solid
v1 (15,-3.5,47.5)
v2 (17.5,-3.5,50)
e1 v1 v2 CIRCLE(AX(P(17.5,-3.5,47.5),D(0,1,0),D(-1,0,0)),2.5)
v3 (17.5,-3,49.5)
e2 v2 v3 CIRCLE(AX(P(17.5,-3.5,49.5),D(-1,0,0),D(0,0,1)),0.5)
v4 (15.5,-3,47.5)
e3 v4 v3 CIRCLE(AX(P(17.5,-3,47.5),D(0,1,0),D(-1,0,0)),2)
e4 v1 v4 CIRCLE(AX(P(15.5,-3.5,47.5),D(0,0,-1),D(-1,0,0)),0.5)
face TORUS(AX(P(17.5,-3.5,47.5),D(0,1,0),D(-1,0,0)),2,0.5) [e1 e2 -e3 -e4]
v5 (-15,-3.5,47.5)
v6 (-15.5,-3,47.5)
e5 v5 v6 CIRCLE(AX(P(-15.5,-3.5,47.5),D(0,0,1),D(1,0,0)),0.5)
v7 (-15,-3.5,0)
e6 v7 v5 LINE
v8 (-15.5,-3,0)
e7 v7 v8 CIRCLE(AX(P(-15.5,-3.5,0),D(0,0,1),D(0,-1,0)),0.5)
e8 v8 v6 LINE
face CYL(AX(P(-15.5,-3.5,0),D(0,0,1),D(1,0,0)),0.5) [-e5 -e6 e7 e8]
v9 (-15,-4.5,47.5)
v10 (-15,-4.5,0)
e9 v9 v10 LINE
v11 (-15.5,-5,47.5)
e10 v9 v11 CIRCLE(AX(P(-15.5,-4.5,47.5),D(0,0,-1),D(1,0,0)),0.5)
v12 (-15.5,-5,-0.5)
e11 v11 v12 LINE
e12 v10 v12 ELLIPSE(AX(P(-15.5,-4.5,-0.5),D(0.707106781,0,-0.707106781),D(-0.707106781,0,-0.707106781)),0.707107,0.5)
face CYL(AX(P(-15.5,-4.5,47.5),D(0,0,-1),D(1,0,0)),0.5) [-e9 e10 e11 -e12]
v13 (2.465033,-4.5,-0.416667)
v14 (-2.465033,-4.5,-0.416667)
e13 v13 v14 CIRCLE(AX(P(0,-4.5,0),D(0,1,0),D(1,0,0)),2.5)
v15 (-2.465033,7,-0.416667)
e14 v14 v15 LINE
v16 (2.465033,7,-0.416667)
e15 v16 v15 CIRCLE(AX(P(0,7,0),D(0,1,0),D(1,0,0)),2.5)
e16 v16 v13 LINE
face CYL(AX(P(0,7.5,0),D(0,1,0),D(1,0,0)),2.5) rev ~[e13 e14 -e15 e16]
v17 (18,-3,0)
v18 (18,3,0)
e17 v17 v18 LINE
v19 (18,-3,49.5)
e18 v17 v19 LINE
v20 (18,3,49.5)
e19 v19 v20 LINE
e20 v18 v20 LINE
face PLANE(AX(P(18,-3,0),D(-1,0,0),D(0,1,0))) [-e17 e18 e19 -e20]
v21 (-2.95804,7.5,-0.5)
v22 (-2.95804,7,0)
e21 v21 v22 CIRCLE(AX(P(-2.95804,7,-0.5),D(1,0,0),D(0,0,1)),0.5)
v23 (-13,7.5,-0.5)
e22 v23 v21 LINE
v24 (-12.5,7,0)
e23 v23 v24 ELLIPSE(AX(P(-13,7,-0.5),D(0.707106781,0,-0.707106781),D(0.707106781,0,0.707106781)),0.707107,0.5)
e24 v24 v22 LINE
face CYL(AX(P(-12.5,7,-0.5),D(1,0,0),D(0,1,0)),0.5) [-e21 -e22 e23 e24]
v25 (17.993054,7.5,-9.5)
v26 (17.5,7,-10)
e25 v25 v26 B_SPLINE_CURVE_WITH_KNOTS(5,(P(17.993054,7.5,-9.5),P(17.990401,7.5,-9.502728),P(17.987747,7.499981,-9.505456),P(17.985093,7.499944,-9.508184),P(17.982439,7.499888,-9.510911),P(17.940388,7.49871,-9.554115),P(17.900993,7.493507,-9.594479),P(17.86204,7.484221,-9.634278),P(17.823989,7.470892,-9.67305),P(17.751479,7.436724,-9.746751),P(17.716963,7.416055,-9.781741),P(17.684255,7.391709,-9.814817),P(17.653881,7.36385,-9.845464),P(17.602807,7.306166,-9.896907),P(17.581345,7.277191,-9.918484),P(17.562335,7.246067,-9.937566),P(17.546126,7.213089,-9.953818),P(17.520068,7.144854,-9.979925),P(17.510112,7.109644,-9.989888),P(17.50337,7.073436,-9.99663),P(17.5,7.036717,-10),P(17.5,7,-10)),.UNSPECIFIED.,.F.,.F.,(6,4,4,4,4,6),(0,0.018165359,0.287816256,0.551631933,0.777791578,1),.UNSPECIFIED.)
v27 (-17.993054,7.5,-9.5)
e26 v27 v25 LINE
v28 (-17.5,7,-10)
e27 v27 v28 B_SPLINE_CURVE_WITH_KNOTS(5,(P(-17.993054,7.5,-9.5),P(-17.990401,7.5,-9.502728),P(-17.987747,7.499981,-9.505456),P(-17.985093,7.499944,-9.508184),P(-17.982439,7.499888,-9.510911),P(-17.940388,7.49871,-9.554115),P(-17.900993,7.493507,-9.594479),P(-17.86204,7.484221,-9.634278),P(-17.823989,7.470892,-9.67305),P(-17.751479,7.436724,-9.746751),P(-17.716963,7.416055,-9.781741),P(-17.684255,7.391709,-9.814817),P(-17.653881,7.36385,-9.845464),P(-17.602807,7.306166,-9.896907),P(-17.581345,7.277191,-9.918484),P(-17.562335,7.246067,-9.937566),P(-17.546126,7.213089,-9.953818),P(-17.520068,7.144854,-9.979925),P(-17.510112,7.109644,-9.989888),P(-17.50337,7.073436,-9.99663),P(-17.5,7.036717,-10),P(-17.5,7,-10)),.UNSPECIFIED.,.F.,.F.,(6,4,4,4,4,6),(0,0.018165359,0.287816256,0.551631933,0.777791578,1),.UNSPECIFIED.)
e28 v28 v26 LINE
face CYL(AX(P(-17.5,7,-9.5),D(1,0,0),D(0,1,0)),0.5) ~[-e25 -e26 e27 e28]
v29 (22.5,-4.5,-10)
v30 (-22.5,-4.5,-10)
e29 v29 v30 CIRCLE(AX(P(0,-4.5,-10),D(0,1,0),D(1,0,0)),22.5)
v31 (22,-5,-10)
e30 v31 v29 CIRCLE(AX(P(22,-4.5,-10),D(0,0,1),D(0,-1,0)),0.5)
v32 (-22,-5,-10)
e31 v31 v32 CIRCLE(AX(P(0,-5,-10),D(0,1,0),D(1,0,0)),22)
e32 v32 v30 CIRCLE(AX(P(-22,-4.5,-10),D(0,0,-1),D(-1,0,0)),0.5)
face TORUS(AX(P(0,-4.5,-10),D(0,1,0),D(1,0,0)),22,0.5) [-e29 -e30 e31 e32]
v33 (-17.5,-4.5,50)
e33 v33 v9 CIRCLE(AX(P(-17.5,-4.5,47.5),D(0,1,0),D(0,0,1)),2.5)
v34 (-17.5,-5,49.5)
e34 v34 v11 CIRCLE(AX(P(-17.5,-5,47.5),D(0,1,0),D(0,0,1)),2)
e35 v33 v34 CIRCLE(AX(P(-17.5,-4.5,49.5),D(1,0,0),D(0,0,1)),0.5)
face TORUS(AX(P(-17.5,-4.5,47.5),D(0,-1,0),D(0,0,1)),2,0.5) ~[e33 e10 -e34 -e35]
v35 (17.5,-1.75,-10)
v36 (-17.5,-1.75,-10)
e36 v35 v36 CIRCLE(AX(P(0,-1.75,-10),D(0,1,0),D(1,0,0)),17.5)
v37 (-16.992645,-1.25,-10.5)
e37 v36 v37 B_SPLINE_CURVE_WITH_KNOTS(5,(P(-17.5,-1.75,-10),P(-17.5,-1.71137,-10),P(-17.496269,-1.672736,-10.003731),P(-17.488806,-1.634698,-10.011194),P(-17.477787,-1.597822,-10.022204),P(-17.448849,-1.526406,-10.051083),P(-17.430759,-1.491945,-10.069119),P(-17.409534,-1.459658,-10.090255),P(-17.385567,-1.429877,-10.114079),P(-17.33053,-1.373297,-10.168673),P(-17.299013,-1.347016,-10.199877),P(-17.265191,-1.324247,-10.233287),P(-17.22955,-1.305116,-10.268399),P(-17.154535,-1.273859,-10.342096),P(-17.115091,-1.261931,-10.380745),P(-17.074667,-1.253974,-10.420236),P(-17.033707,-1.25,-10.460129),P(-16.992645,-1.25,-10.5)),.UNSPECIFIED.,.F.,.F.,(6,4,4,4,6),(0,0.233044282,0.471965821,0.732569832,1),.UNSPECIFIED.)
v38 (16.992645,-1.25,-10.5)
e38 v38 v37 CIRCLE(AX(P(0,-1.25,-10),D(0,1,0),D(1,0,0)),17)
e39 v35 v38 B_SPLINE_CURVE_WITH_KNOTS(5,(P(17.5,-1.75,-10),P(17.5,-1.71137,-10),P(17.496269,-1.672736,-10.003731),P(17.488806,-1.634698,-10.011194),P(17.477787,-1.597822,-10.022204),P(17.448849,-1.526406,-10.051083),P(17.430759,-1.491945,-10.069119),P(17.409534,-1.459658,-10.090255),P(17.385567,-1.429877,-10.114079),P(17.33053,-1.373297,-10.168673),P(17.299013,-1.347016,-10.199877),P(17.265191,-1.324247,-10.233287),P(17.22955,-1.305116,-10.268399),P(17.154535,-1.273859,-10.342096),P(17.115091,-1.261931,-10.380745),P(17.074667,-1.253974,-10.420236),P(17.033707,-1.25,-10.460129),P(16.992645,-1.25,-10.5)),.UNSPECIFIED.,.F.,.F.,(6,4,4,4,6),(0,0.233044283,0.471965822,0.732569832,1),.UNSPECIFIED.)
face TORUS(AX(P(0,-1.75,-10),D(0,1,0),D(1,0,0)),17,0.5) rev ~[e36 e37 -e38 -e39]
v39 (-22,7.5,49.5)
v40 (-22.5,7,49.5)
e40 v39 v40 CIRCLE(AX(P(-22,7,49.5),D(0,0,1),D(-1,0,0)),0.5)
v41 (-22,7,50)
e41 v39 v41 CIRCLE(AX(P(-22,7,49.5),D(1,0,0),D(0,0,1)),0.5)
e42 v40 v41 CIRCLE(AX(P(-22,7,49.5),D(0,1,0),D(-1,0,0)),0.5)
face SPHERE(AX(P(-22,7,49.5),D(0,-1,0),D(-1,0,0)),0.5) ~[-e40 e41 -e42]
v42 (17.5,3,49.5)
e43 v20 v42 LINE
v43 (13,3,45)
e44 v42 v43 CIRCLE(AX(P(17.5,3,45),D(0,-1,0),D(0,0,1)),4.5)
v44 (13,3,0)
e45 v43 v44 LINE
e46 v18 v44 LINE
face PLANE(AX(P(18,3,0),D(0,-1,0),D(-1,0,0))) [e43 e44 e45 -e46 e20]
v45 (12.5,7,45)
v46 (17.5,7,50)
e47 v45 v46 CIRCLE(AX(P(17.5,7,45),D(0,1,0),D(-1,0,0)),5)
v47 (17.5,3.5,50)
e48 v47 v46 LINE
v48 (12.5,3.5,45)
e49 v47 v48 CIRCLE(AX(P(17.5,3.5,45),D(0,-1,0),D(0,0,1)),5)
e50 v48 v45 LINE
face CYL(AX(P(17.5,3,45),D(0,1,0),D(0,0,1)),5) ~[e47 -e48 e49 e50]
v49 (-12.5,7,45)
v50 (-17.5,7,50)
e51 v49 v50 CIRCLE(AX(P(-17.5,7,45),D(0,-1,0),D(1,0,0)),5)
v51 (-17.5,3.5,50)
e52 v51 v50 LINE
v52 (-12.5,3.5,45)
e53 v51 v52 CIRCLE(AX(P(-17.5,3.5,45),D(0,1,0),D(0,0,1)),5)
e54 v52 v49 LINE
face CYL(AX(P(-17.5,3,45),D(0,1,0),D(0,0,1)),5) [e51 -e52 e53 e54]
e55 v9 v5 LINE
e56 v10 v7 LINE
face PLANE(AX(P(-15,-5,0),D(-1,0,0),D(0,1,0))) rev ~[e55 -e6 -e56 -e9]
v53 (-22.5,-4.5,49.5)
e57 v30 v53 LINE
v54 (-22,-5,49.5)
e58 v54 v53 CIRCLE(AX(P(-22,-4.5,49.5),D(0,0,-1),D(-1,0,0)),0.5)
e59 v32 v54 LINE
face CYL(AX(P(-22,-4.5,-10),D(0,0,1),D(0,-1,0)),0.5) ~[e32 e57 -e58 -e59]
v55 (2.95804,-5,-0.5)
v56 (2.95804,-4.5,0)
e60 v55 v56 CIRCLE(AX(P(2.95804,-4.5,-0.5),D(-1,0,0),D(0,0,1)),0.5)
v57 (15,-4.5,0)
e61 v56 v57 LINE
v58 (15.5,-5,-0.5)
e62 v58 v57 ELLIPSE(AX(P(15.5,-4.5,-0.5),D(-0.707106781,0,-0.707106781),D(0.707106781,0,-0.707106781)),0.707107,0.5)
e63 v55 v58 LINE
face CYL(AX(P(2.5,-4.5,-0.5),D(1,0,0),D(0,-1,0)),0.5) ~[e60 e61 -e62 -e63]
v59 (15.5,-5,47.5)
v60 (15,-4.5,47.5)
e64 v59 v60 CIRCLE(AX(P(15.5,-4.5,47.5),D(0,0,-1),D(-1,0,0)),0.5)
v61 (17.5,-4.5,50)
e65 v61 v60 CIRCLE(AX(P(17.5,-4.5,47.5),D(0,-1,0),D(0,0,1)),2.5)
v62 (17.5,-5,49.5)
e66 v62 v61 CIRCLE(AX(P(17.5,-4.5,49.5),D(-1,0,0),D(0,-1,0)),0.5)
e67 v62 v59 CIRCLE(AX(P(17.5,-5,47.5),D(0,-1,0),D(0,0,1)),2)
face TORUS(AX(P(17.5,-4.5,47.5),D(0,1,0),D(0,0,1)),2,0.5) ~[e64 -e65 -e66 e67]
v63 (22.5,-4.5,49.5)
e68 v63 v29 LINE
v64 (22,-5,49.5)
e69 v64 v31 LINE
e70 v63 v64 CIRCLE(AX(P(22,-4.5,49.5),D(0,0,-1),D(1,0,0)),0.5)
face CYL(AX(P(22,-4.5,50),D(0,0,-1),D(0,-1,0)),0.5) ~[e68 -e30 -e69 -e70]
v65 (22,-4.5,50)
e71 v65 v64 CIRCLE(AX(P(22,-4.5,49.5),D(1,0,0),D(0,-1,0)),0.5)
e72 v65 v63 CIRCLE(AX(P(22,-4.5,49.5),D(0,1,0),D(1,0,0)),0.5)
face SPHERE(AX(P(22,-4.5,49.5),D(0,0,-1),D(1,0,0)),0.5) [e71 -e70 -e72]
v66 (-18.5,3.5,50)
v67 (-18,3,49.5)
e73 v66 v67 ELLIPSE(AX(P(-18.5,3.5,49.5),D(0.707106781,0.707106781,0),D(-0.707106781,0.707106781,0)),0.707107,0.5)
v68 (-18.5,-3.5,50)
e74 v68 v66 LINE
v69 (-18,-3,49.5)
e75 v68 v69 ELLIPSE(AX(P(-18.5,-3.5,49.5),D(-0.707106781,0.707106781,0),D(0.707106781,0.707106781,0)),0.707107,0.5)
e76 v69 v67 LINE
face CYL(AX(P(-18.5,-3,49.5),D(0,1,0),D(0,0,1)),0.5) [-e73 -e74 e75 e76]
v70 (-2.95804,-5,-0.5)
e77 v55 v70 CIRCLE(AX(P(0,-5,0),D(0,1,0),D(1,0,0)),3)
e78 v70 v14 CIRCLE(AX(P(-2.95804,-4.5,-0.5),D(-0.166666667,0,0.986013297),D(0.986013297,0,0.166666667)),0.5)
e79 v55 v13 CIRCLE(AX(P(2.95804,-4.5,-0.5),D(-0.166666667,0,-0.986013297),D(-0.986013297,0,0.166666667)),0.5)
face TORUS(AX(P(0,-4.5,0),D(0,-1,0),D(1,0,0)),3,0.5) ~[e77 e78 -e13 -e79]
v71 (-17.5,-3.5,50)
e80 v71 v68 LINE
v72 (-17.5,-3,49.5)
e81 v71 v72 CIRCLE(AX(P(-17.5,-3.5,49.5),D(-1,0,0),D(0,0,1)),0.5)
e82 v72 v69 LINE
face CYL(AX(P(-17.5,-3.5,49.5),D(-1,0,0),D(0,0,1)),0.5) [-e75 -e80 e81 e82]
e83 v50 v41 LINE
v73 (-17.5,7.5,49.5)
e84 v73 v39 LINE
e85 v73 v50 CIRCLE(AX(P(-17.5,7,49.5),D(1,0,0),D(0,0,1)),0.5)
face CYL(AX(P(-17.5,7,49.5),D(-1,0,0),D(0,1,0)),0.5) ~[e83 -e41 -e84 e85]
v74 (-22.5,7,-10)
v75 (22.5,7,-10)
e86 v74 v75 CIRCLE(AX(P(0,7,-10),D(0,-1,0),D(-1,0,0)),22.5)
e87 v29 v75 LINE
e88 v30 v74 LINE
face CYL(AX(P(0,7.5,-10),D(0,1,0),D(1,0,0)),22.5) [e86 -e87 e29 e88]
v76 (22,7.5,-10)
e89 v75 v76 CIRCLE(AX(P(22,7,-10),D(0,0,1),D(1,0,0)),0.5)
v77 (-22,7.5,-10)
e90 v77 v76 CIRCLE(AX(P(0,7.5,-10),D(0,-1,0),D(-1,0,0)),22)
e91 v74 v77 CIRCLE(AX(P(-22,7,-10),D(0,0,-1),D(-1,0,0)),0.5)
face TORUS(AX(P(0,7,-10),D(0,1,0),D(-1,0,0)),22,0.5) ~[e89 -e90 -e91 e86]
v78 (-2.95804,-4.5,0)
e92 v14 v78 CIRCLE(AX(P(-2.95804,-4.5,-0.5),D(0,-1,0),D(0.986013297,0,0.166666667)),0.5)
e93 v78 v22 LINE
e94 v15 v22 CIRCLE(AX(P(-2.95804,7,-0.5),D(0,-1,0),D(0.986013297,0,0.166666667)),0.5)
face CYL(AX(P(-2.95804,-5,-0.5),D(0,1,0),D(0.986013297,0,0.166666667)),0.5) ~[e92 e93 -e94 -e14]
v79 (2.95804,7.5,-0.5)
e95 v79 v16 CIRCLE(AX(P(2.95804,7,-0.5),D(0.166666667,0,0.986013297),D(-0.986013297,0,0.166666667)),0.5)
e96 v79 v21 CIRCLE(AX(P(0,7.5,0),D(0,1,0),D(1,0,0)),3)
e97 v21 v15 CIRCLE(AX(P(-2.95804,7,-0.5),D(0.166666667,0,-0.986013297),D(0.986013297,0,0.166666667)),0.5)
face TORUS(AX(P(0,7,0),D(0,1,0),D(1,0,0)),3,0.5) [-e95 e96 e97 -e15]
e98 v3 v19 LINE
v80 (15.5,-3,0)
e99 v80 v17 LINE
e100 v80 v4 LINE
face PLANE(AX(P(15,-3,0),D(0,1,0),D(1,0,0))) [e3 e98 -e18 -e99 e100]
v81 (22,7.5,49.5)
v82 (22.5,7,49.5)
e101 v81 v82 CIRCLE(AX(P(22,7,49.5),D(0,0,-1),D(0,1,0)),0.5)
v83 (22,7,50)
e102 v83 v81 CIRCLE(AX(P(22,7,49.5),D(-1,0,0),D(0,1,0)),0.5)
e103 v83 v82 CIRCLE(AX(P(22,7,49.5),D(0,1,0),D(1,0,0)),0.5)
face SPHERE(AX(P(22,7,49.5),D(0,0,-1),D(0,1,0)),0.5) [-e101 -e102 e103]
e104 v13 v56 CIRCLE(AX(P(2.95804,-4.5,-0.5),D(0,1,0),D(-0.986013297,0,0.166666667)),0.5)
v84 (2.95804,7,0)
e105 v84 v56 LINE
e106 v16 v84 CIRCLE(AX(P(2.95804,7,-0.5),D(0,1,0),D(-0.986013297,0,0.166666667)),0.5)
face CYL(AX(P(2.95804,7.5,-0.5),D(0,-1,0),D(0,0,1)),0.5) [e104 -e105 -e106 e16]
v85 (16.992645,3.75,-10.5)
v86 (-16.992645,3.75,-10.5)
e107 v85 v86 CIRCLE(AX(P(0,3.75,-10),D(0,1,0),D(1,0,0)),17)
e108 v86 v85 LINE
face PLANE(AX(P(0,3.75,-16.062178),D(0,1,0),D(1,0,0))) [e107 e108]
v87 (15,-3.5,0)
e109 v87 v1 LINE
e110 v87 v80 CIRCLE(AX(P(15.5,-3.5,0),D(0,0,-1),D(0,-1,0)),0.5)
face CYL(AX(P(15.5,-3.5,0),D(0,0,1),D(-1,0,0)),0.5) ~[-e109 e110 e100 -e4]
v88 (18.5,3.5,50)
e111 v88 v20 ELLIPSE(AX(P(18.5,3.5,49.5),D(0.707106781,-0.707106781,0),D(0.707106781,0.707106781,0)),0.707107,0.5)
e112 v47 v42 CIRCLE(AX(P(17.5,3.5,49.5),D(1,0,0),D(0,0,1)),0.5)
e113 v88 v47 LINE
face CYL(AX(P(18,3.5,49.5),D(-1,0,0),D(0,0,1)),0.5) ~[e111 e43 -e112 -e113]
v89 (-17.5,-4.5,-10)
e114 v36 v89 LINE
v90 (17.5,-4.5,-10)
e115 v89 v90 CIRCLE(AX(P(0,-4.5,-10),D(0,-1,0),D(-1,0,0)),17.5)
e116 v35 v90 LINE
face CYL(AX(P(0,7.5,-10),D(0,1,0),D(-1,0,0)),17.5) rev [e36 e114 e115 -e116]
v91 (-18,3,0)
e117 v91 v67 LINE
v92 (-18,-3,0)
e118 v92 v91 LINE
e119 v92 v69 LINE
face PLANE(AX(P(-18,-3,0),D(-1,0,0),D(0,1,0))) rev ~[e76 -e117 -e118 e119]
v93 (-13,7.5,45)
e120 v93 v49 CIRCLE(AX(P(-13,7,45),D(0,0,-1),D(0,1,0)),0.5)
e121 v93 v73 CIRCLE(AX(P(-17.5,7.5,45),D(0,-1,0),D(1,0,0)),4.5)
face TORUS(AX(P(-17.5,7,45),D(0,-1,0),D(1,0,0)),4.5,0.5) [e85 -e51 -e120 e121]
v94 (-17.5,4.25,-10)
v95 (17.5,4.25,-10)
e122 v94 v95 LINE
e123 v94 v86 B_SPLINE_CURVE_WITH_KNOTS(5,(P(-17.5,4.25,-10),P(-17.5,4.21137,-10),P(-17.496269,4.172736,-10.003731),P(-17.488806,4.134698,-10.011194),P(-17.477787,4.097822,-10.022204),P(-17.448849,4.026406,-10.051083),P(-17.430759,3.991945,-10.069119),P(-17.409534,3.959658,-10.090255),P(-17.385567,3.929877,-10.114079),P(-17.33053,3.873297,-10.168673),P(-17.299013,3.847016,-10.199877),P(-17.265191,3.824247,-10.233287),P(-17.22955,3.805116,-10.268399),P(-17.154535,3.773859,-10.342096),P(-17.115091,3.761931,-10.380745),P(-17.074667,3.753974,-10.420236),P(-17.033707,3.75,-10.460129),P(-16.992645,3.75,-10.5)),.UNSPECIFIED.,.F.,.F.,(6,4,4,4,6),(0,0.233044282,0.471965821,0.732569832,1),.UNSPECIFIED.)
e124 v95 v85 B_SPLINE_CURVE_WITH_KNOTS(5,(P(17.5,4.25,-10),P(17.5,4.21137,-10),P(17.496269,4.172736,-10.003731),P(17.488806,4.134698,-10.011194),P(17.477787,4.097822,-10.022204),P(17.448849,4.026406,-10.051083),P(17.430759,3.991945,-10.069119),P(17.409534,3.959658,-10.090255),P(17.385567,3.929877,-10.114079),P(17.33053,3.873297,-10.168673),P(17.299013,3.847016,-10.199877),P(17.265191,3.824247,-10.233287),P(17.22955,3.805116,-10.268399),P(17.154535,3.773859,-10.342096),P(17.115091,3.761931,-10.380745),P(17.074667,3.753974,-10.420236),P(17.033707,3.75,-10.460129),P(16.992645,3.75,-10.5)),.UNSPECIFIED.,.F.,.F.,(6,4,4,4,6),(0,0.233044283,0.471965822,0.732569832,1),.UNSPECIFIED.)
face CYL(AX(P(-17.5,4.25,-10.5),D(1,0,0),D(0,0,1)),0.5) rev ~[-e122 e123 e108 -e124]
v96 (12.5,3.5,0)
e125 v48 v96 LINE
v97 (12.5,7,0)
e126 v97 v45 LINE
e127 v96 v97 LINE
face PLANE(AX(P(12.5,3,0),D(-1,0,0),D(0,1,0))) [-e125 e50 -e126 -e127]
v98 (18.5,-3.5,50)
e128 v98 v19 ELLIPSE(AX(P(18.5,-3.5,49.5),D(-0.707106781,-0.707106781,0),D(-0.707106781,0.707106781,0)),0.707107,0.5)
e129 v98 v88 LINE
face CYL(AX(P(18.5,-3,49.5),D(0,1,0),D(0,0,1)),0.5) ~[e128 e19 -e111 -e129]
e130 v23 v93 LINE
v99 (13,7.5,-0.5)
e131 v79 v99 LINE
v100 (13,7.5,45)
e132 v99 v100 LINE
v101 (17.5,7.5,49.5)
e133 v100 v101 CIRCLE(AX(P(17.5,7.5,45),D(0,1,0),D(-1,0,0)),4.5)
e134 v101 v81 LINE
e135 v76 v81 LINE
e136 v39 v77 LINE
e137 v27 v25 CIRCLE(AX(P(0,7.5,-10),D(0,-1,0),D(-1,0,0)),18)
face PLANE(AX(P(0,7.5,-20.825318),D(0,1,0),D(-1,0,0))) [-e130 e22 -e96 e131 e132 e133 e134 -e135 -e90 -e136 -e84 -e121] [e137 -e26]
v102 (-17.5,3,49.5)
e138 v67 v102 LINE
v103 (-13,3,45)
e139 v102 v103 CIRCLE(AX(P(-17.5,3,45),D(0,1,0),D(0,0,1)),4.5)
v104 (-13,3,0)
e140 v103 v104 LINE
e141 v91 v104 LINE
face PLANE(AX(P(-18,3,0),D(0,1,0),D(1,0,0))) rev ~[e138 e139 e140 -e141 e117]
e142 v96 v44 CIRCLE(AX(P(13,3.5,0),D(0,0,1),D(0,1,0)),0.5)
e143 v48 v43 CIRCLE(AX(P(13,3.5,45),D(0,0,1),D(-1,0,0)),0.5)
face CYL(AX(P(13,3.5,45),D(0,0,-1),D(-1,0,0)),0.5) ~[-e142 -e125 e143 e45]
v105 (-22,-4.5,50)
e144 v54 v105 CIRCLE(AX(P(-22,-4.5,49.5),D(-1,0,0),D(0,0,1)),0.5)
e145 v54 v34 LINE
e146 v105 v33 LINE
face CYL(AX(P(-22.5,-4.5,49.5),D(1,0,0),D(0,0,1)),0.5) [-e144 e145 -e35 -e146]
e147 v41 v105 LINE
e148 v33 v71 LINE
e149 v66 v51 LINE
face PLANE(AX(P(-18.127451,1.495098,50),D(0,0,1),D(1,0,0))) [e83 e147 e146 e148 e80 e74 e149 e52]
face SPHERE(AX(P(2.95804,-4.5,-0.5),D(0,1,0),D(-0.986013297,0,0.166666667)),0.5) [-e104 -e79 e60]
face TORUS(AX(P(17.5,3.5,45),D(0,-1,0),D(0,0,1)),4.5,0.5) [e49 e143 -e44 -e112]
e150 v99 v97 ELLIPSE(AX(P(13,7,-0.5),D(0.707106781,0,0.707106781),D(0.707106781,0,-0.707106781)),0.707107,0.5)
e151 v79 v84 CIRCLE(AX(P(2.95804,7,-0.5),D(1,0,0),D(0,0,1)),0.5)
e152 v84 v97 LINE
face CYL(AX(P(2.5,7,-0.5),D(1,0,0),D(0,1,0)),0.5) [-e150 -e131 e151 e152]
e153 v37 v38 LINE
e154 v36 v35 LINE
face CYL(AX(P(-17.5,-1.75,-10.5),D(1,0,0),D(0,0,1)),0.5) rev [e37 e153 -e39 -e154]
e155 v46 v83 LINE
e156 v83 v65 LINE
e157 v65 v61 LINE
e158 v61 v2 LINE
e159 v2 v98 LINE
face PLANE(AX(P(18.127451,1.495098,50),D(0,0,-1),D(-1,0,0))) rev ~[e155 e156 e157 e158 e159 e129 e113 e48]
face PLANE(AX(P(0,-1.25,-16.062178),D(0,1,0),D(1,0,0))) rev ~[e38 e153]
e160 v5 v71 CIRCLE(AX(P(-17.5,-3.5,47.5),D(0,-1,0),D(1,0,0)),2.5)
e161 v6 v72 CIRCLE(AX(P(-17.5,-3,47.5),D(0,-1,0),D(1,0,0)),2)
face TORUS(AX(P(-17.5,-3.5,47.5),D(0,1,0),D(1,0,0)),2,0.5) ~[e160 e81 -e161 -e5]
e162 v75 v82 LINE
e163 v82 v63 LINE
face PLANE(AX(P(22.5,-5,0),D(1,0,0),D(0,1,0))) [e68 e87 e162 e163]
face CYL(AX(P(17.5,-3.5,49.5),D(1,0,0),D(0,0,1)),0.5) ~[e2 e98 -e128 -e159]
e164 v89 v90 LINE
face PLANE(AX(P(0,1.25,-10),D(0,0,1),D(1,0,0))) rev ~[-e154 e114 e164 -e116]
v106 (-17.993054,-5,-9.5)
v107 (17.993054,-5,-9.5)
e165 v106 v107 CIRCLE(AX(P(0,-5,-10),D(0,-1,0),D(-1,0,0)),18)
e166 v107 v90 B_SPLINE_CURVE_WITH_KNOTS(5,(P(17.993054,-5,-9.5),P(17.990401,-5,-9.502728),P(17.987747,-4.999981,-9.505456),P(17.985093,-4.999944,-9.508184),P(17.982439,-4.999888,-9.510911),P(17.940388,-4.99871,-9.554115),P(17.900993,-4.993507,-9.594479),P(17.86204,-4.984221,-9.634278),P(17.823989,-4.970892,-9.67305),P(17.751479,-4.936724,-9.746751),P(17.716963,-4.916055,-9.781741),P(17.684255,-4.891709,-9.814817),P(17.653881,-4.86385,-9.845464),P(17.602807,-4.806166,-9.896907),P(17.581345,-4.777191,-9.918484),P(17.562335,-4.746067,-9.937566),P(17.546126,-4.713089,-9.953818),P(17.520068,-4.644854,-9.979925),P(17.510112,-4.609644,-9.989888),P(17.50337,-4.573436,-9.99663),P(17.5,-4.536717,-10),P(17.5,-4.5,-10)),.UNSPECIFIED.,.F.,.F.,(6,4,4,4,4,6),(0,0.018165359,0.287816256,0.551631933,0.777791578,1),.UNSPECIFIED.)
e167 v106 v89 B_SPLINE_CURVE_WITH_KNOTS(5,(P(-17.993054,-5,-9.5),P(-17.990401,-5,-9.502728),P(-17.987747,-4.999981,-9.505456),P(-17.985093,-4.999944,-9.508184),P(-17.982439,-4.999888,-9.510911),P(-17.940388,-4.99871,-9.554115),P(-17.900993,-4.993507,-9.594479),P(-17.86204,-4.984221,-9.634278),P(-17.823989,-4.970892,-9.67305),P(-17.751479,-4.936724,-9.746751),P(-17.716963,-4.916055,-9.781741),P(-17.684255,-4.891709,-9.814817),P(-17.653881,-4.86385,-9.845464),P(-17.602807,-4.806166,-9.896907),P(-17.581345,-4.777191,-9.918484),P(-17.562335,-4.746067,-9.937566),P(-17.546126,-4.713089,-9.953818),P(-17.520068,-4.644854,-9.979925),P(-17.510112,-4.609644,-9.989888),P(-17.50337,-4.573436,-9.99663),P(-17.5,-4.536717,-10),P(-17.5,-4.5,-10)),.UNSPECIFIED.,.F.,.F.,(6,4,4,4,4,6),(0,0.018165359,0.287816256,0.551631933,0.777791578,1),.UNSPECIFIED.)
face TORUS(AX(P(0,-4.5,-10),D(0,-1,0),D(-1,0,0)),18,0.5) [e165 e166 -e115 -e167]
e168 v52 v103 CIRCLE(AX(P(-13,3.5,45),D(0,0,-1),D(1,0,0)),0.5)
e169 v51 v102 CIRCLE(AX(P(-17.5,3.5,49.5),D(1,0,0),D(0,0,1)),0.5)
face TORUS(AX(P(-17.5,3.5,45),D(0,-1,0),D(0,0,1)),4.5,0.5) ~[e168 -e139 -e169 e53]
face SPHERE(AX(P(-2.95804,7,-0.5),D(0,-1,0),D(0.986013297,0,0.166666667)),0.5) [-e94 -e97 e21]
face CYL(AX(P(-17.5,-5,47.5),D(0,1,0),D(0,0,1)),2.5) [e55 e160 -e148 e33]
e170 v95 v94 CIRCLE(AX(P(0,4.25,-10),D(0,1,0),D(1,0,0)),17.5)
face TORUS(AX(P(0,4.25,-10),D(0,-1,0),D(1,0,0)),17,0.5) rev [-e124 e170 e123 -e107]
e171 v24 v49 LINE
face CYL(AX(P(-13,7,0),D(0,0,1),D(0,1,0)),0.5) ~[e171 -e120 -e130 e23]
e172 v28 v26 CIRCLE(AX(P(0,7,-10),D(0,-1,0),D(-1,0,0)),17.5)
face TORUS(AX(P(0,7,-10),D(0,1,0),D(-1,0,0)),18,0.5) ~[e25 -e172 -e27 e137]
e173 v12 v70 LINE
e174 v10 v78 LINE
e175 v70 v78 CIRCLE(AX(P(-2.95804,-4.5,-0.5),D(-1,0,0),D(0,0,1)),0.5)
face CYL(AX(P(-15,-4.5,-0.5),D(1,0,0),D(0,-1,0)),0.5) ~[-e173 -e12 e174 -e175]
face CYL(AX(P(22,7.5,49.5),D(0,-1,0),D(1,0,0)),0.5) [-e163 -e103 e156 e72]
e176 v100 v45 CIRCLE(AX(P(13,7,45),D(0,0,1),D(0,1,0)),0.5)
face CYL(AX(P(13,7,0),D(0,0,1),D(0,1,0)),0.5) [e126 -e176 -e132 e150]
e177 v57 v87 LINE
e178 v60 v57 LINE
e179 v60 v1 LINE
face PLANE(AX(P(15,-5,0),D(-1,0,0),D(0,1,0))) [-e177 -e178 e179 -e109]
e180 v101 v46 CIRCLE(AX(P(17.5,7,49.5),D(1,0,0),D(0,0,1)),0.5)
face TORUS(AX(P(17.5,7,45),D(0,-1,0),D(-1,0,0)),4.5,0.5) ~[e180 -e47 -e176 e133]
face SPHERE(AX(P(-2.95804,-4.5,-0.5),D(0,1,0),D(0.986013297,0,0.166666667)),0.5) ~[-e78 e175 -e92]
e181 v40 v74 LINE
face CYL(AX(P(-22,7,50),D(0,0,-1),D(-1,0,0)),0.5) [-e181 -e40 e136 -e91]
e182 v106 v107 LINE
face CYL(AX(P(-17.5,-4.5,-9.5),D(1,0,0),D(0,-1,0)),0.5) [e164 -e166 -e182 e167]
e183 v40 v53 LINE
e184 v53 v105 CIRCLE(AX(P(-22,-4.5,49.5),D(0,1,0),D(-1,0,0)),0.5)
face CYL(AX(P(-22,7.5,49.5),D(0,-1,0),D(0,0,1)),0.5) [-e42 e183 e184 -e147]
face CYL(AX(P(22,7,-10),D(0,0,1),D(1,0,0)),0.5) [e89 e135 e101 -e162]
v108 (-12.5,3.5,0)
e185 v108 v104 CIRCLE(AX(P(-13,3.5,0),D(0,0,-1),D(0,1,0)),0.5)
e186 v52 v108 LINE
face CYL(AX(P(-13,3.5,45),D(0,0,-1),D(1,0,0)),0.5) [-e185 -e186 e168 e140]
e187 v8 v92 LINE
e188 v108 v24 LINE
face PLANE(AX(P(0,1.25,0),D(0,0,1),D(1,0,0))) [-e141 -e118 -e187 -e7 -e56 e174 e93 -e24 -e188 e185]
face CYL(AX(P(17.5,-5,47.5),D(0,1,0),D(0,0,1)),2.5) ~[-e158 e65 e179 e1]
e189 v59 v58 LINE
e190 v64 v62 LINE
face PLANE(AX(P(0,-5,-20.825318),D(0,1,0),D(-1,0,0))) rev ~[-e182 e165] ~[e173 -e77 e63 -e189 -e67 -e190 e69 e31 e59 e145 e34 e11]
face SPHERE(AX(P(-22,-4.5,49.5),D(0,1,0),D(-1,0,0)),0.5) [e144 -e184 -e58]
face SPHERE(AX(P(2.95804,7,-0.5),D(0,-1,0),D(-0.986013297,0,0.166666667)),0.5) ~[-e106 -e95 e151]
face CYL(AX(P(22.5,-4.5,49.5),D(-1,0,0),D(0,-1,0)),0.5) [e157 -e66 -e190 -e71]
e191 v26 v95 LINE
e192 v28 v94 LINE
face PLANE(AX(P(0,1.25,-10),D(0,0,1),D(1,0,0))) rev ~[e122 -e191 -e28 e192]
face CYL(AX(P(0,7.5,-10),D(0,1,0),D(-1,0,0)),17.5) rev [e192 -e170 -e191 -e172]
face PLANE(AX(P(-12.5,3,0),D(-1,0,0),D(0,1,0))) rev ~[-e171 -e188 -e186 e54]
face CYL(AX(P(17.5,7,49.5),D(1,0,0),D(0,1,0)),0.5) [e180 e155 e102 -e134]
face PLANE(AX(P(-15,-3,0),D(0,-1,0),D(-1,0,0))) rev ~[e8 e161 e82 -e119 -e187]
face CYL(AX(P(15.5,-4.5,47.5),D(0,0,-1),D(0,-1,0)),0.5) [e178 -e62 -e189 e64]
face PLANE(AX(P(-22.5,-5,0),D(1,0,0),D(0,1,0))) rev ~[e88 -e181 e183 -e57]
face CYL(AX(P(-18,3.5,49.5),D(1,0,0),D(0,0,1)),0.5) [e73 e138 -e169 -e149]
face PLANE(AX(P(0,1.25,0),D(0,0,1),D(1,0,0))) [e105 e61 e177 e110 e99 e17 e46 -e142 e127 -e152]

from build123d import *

# Parameters (mm, degrees)
BOSS_EXTRUDE1_DEPTH      = 50
BOSS_EXTRUDE1_2_DEPTH    = 50
SKETCH2_W                = 45
SKETCH2_H                = 12.5
BOSS_EXTRUDE2_DEPTH      = 10
BOSS_EXTRUDE3_START      = -6.25
BOSS_EXTRUDE3_DEPTH      = 12.5
BOSS_EXTRUDE4_DEPTH      = 2.5
BOSS_EXTRUDE4_DEPTH_BACK = 2.5
FILLET1_R                = 5
FILLET2_R                = 2.5
SKETCH5_R                = 2.5
CUT_EXTRUDE1_DEPTH       = 13.5
FILLET3_R                = 0.5


with BuildPart() as part:
    # Sketch1 → Boss-Extrude1 (new body)
    with BuildSketch(Plane.XY):
        Polygon((-12.5, 7.5), (-22.5, 7.5), (-22.5, -5), (-15, -5), (-15, -3), (-18, -3), (-18, 3), (-12.5, 3), align=None)
    extrude(amount=BOSS_EXTRUDE1_DEPTH)



with BuildPart() as body_2:
    # Sketch1 → Boss-Extrude1 2 (new body)
    with BuildSketch(Plane.XY):
        Polygon((22.5, 7.5), (22.5, -5), (15, -5), (15, -3), (18, -3), (18, 3), (12.5, 3), (12.5, 7.5), align=None)
    extrude(amount=BOSS_EXTRUDE1_2_DEPTH)


with BuildPart() as part_1:
    add(part.part)

    add(body_2.part)  # Boss-Extrude2 merges body 2
    # Sketch2 → Boss-Extrude2 (add)
    with BuildSketch(Plane.XY):
        with Locations((0, 1.25)):
            Rectangle(SKETCH2_W, SKETCH2_H)
    extrude(amount=-BOSS_EXTRUDE2_DEPTH)

    # Sketch3 → Boss-Extrude3 (add)
    with BuildSketch(Plane.XZ.offset(-1.25).offset(BOSS_EXTRUDE3_START)):
        with BuildLine():
            Line((-22.5, -10), (-17.5, -10))
            ThreePointArc((-17.5, -10), (0, -27.5), (17.5, -10))
            Line((17.5, -10), (22.5, -10))
            ThreePointArc((22.5, -10), (0, -32.5), (-22.5, -10))
        make_face()
    extrude(amount=BOSS_EXTRUDE3_DEPTH)

    # Sketch4 → Boss-Extrude4 (add, two sides)
    with BuildSketch(Plane(origin=(0, 1.25, 0), x_dir=(1, 0, 0), z_dir=(0, 1, 0))) as boss_extrude4_sk:
        with BuildLine():
            Line((-17.5, 10), (17.5, 10))
            ThreePointArc((17.5, 10), (0, 27.5), (-17.5, 10))
        make_face()
    extrude(amount=BOSS_EXTRUDE4_DEPTH)
    extrude(boss_extrude4_sk.sketch, amount=-BOSS_EXTRUDE4_DEPTH_BACK)

    # Fillet1
    fillet1_edges = [part_1.edges().sort_by_distance(p)[0] for p in [
        (12.5, 5.25, 50),
        (-12.5, 5.25, 50),
    ]]
    fillet(fillet1_edges, radius=FILLET1_R)

    # Fillet2
    fillet2_edges = [part_1.edges().sort_by_distance(p)[0] for p in [
        (-15, -4, 50),
        (15, -4, 50),
    ]]
    fillet(fillet2_edges, radius=FILLET2_R)

    # Sketch5 → Cut-Extrude1 (cut, through all)
    with BuildSketch(Plane(origin=(0, 7.5, 0), x_dir=(1, 0, 0), z_dir=(0, 1, 0))):
        Circle(SKETCH5_R)
    extrude(amount=-CUT_EXTRUDE1_DEPTH, mode=Mode.SUBTRACT)

    # Fillet3
    fillet3_edges = [part_1.edges().sort_by_distance(p)[0] for p in [
        (8.75, -5, 0),
        (-7.5, 7.5, 0),
        (2.5, 1.25, 0),
        (-2.5, 1.25, 0),
        (0, -5, -2.5),
        (0, 7.5, -2.5),
        (-22.5, 1.25, 50),
        (-22.5, -5, 20),
        (-22.5, 7.5, 20),
        (-20, -5, 50),
        (-8.75, -5, 0),
        (22.5, 7.5, 20),
        (22.5, -5, 20),
        (-18, 0, 50),
        (-17.75, 3, 50),
        (7.5, 7.5, 0),
        (20, 7.5, 50),
        (18, 0, 50),
        (17.75, -3, 50),
        (22.5, 1.25, 50),
        (0, 7.5, -10),
        (0, -5, -10),
        (0, -5, -27.5),
        (0, -5, -32.5),
        (0, 7.5, -32.5),
        (0, 7.5, -27.5),
        (0, -1.25, -27.5),
        (0, -1.25, -10),
        (0, 3.75, -27.5),
        (0, 3.75, -10),
        (17.75, 3, 50),
        (12.5, 3, 22.5),
        (13.964466094, 3, 48.535533906),
        (12.5, 7.5, 22.5),
        (-12.5, 7.5, 22.5),
        (-20, 7.5, 50),
        (-13.964466094, 7.5, 48.535533906),
        (13.964466094, 7.5, 48.535533906),
        (-12.5, 3, 22.5),
        (-13.964466094, 3, 48.535533906),
        (20, -5, 50),
        (15, -5, 23.75),
        (-15, -5, 23.75),
        (-15.732233047, -5, 49.267766953),
        (15.732233047, -5, 49.267766953),
        (15, -3, 23.75),
        (15.732233047, -3, 49.267766953),
        (-17.75, -3, 50),
        (-15, -3, 23.75),
        (-15.732233047, -3, 49.267766953),
    ]]
    fillet(fillet3_edges, radius=FILLET3_R)


solid = part_1.part
